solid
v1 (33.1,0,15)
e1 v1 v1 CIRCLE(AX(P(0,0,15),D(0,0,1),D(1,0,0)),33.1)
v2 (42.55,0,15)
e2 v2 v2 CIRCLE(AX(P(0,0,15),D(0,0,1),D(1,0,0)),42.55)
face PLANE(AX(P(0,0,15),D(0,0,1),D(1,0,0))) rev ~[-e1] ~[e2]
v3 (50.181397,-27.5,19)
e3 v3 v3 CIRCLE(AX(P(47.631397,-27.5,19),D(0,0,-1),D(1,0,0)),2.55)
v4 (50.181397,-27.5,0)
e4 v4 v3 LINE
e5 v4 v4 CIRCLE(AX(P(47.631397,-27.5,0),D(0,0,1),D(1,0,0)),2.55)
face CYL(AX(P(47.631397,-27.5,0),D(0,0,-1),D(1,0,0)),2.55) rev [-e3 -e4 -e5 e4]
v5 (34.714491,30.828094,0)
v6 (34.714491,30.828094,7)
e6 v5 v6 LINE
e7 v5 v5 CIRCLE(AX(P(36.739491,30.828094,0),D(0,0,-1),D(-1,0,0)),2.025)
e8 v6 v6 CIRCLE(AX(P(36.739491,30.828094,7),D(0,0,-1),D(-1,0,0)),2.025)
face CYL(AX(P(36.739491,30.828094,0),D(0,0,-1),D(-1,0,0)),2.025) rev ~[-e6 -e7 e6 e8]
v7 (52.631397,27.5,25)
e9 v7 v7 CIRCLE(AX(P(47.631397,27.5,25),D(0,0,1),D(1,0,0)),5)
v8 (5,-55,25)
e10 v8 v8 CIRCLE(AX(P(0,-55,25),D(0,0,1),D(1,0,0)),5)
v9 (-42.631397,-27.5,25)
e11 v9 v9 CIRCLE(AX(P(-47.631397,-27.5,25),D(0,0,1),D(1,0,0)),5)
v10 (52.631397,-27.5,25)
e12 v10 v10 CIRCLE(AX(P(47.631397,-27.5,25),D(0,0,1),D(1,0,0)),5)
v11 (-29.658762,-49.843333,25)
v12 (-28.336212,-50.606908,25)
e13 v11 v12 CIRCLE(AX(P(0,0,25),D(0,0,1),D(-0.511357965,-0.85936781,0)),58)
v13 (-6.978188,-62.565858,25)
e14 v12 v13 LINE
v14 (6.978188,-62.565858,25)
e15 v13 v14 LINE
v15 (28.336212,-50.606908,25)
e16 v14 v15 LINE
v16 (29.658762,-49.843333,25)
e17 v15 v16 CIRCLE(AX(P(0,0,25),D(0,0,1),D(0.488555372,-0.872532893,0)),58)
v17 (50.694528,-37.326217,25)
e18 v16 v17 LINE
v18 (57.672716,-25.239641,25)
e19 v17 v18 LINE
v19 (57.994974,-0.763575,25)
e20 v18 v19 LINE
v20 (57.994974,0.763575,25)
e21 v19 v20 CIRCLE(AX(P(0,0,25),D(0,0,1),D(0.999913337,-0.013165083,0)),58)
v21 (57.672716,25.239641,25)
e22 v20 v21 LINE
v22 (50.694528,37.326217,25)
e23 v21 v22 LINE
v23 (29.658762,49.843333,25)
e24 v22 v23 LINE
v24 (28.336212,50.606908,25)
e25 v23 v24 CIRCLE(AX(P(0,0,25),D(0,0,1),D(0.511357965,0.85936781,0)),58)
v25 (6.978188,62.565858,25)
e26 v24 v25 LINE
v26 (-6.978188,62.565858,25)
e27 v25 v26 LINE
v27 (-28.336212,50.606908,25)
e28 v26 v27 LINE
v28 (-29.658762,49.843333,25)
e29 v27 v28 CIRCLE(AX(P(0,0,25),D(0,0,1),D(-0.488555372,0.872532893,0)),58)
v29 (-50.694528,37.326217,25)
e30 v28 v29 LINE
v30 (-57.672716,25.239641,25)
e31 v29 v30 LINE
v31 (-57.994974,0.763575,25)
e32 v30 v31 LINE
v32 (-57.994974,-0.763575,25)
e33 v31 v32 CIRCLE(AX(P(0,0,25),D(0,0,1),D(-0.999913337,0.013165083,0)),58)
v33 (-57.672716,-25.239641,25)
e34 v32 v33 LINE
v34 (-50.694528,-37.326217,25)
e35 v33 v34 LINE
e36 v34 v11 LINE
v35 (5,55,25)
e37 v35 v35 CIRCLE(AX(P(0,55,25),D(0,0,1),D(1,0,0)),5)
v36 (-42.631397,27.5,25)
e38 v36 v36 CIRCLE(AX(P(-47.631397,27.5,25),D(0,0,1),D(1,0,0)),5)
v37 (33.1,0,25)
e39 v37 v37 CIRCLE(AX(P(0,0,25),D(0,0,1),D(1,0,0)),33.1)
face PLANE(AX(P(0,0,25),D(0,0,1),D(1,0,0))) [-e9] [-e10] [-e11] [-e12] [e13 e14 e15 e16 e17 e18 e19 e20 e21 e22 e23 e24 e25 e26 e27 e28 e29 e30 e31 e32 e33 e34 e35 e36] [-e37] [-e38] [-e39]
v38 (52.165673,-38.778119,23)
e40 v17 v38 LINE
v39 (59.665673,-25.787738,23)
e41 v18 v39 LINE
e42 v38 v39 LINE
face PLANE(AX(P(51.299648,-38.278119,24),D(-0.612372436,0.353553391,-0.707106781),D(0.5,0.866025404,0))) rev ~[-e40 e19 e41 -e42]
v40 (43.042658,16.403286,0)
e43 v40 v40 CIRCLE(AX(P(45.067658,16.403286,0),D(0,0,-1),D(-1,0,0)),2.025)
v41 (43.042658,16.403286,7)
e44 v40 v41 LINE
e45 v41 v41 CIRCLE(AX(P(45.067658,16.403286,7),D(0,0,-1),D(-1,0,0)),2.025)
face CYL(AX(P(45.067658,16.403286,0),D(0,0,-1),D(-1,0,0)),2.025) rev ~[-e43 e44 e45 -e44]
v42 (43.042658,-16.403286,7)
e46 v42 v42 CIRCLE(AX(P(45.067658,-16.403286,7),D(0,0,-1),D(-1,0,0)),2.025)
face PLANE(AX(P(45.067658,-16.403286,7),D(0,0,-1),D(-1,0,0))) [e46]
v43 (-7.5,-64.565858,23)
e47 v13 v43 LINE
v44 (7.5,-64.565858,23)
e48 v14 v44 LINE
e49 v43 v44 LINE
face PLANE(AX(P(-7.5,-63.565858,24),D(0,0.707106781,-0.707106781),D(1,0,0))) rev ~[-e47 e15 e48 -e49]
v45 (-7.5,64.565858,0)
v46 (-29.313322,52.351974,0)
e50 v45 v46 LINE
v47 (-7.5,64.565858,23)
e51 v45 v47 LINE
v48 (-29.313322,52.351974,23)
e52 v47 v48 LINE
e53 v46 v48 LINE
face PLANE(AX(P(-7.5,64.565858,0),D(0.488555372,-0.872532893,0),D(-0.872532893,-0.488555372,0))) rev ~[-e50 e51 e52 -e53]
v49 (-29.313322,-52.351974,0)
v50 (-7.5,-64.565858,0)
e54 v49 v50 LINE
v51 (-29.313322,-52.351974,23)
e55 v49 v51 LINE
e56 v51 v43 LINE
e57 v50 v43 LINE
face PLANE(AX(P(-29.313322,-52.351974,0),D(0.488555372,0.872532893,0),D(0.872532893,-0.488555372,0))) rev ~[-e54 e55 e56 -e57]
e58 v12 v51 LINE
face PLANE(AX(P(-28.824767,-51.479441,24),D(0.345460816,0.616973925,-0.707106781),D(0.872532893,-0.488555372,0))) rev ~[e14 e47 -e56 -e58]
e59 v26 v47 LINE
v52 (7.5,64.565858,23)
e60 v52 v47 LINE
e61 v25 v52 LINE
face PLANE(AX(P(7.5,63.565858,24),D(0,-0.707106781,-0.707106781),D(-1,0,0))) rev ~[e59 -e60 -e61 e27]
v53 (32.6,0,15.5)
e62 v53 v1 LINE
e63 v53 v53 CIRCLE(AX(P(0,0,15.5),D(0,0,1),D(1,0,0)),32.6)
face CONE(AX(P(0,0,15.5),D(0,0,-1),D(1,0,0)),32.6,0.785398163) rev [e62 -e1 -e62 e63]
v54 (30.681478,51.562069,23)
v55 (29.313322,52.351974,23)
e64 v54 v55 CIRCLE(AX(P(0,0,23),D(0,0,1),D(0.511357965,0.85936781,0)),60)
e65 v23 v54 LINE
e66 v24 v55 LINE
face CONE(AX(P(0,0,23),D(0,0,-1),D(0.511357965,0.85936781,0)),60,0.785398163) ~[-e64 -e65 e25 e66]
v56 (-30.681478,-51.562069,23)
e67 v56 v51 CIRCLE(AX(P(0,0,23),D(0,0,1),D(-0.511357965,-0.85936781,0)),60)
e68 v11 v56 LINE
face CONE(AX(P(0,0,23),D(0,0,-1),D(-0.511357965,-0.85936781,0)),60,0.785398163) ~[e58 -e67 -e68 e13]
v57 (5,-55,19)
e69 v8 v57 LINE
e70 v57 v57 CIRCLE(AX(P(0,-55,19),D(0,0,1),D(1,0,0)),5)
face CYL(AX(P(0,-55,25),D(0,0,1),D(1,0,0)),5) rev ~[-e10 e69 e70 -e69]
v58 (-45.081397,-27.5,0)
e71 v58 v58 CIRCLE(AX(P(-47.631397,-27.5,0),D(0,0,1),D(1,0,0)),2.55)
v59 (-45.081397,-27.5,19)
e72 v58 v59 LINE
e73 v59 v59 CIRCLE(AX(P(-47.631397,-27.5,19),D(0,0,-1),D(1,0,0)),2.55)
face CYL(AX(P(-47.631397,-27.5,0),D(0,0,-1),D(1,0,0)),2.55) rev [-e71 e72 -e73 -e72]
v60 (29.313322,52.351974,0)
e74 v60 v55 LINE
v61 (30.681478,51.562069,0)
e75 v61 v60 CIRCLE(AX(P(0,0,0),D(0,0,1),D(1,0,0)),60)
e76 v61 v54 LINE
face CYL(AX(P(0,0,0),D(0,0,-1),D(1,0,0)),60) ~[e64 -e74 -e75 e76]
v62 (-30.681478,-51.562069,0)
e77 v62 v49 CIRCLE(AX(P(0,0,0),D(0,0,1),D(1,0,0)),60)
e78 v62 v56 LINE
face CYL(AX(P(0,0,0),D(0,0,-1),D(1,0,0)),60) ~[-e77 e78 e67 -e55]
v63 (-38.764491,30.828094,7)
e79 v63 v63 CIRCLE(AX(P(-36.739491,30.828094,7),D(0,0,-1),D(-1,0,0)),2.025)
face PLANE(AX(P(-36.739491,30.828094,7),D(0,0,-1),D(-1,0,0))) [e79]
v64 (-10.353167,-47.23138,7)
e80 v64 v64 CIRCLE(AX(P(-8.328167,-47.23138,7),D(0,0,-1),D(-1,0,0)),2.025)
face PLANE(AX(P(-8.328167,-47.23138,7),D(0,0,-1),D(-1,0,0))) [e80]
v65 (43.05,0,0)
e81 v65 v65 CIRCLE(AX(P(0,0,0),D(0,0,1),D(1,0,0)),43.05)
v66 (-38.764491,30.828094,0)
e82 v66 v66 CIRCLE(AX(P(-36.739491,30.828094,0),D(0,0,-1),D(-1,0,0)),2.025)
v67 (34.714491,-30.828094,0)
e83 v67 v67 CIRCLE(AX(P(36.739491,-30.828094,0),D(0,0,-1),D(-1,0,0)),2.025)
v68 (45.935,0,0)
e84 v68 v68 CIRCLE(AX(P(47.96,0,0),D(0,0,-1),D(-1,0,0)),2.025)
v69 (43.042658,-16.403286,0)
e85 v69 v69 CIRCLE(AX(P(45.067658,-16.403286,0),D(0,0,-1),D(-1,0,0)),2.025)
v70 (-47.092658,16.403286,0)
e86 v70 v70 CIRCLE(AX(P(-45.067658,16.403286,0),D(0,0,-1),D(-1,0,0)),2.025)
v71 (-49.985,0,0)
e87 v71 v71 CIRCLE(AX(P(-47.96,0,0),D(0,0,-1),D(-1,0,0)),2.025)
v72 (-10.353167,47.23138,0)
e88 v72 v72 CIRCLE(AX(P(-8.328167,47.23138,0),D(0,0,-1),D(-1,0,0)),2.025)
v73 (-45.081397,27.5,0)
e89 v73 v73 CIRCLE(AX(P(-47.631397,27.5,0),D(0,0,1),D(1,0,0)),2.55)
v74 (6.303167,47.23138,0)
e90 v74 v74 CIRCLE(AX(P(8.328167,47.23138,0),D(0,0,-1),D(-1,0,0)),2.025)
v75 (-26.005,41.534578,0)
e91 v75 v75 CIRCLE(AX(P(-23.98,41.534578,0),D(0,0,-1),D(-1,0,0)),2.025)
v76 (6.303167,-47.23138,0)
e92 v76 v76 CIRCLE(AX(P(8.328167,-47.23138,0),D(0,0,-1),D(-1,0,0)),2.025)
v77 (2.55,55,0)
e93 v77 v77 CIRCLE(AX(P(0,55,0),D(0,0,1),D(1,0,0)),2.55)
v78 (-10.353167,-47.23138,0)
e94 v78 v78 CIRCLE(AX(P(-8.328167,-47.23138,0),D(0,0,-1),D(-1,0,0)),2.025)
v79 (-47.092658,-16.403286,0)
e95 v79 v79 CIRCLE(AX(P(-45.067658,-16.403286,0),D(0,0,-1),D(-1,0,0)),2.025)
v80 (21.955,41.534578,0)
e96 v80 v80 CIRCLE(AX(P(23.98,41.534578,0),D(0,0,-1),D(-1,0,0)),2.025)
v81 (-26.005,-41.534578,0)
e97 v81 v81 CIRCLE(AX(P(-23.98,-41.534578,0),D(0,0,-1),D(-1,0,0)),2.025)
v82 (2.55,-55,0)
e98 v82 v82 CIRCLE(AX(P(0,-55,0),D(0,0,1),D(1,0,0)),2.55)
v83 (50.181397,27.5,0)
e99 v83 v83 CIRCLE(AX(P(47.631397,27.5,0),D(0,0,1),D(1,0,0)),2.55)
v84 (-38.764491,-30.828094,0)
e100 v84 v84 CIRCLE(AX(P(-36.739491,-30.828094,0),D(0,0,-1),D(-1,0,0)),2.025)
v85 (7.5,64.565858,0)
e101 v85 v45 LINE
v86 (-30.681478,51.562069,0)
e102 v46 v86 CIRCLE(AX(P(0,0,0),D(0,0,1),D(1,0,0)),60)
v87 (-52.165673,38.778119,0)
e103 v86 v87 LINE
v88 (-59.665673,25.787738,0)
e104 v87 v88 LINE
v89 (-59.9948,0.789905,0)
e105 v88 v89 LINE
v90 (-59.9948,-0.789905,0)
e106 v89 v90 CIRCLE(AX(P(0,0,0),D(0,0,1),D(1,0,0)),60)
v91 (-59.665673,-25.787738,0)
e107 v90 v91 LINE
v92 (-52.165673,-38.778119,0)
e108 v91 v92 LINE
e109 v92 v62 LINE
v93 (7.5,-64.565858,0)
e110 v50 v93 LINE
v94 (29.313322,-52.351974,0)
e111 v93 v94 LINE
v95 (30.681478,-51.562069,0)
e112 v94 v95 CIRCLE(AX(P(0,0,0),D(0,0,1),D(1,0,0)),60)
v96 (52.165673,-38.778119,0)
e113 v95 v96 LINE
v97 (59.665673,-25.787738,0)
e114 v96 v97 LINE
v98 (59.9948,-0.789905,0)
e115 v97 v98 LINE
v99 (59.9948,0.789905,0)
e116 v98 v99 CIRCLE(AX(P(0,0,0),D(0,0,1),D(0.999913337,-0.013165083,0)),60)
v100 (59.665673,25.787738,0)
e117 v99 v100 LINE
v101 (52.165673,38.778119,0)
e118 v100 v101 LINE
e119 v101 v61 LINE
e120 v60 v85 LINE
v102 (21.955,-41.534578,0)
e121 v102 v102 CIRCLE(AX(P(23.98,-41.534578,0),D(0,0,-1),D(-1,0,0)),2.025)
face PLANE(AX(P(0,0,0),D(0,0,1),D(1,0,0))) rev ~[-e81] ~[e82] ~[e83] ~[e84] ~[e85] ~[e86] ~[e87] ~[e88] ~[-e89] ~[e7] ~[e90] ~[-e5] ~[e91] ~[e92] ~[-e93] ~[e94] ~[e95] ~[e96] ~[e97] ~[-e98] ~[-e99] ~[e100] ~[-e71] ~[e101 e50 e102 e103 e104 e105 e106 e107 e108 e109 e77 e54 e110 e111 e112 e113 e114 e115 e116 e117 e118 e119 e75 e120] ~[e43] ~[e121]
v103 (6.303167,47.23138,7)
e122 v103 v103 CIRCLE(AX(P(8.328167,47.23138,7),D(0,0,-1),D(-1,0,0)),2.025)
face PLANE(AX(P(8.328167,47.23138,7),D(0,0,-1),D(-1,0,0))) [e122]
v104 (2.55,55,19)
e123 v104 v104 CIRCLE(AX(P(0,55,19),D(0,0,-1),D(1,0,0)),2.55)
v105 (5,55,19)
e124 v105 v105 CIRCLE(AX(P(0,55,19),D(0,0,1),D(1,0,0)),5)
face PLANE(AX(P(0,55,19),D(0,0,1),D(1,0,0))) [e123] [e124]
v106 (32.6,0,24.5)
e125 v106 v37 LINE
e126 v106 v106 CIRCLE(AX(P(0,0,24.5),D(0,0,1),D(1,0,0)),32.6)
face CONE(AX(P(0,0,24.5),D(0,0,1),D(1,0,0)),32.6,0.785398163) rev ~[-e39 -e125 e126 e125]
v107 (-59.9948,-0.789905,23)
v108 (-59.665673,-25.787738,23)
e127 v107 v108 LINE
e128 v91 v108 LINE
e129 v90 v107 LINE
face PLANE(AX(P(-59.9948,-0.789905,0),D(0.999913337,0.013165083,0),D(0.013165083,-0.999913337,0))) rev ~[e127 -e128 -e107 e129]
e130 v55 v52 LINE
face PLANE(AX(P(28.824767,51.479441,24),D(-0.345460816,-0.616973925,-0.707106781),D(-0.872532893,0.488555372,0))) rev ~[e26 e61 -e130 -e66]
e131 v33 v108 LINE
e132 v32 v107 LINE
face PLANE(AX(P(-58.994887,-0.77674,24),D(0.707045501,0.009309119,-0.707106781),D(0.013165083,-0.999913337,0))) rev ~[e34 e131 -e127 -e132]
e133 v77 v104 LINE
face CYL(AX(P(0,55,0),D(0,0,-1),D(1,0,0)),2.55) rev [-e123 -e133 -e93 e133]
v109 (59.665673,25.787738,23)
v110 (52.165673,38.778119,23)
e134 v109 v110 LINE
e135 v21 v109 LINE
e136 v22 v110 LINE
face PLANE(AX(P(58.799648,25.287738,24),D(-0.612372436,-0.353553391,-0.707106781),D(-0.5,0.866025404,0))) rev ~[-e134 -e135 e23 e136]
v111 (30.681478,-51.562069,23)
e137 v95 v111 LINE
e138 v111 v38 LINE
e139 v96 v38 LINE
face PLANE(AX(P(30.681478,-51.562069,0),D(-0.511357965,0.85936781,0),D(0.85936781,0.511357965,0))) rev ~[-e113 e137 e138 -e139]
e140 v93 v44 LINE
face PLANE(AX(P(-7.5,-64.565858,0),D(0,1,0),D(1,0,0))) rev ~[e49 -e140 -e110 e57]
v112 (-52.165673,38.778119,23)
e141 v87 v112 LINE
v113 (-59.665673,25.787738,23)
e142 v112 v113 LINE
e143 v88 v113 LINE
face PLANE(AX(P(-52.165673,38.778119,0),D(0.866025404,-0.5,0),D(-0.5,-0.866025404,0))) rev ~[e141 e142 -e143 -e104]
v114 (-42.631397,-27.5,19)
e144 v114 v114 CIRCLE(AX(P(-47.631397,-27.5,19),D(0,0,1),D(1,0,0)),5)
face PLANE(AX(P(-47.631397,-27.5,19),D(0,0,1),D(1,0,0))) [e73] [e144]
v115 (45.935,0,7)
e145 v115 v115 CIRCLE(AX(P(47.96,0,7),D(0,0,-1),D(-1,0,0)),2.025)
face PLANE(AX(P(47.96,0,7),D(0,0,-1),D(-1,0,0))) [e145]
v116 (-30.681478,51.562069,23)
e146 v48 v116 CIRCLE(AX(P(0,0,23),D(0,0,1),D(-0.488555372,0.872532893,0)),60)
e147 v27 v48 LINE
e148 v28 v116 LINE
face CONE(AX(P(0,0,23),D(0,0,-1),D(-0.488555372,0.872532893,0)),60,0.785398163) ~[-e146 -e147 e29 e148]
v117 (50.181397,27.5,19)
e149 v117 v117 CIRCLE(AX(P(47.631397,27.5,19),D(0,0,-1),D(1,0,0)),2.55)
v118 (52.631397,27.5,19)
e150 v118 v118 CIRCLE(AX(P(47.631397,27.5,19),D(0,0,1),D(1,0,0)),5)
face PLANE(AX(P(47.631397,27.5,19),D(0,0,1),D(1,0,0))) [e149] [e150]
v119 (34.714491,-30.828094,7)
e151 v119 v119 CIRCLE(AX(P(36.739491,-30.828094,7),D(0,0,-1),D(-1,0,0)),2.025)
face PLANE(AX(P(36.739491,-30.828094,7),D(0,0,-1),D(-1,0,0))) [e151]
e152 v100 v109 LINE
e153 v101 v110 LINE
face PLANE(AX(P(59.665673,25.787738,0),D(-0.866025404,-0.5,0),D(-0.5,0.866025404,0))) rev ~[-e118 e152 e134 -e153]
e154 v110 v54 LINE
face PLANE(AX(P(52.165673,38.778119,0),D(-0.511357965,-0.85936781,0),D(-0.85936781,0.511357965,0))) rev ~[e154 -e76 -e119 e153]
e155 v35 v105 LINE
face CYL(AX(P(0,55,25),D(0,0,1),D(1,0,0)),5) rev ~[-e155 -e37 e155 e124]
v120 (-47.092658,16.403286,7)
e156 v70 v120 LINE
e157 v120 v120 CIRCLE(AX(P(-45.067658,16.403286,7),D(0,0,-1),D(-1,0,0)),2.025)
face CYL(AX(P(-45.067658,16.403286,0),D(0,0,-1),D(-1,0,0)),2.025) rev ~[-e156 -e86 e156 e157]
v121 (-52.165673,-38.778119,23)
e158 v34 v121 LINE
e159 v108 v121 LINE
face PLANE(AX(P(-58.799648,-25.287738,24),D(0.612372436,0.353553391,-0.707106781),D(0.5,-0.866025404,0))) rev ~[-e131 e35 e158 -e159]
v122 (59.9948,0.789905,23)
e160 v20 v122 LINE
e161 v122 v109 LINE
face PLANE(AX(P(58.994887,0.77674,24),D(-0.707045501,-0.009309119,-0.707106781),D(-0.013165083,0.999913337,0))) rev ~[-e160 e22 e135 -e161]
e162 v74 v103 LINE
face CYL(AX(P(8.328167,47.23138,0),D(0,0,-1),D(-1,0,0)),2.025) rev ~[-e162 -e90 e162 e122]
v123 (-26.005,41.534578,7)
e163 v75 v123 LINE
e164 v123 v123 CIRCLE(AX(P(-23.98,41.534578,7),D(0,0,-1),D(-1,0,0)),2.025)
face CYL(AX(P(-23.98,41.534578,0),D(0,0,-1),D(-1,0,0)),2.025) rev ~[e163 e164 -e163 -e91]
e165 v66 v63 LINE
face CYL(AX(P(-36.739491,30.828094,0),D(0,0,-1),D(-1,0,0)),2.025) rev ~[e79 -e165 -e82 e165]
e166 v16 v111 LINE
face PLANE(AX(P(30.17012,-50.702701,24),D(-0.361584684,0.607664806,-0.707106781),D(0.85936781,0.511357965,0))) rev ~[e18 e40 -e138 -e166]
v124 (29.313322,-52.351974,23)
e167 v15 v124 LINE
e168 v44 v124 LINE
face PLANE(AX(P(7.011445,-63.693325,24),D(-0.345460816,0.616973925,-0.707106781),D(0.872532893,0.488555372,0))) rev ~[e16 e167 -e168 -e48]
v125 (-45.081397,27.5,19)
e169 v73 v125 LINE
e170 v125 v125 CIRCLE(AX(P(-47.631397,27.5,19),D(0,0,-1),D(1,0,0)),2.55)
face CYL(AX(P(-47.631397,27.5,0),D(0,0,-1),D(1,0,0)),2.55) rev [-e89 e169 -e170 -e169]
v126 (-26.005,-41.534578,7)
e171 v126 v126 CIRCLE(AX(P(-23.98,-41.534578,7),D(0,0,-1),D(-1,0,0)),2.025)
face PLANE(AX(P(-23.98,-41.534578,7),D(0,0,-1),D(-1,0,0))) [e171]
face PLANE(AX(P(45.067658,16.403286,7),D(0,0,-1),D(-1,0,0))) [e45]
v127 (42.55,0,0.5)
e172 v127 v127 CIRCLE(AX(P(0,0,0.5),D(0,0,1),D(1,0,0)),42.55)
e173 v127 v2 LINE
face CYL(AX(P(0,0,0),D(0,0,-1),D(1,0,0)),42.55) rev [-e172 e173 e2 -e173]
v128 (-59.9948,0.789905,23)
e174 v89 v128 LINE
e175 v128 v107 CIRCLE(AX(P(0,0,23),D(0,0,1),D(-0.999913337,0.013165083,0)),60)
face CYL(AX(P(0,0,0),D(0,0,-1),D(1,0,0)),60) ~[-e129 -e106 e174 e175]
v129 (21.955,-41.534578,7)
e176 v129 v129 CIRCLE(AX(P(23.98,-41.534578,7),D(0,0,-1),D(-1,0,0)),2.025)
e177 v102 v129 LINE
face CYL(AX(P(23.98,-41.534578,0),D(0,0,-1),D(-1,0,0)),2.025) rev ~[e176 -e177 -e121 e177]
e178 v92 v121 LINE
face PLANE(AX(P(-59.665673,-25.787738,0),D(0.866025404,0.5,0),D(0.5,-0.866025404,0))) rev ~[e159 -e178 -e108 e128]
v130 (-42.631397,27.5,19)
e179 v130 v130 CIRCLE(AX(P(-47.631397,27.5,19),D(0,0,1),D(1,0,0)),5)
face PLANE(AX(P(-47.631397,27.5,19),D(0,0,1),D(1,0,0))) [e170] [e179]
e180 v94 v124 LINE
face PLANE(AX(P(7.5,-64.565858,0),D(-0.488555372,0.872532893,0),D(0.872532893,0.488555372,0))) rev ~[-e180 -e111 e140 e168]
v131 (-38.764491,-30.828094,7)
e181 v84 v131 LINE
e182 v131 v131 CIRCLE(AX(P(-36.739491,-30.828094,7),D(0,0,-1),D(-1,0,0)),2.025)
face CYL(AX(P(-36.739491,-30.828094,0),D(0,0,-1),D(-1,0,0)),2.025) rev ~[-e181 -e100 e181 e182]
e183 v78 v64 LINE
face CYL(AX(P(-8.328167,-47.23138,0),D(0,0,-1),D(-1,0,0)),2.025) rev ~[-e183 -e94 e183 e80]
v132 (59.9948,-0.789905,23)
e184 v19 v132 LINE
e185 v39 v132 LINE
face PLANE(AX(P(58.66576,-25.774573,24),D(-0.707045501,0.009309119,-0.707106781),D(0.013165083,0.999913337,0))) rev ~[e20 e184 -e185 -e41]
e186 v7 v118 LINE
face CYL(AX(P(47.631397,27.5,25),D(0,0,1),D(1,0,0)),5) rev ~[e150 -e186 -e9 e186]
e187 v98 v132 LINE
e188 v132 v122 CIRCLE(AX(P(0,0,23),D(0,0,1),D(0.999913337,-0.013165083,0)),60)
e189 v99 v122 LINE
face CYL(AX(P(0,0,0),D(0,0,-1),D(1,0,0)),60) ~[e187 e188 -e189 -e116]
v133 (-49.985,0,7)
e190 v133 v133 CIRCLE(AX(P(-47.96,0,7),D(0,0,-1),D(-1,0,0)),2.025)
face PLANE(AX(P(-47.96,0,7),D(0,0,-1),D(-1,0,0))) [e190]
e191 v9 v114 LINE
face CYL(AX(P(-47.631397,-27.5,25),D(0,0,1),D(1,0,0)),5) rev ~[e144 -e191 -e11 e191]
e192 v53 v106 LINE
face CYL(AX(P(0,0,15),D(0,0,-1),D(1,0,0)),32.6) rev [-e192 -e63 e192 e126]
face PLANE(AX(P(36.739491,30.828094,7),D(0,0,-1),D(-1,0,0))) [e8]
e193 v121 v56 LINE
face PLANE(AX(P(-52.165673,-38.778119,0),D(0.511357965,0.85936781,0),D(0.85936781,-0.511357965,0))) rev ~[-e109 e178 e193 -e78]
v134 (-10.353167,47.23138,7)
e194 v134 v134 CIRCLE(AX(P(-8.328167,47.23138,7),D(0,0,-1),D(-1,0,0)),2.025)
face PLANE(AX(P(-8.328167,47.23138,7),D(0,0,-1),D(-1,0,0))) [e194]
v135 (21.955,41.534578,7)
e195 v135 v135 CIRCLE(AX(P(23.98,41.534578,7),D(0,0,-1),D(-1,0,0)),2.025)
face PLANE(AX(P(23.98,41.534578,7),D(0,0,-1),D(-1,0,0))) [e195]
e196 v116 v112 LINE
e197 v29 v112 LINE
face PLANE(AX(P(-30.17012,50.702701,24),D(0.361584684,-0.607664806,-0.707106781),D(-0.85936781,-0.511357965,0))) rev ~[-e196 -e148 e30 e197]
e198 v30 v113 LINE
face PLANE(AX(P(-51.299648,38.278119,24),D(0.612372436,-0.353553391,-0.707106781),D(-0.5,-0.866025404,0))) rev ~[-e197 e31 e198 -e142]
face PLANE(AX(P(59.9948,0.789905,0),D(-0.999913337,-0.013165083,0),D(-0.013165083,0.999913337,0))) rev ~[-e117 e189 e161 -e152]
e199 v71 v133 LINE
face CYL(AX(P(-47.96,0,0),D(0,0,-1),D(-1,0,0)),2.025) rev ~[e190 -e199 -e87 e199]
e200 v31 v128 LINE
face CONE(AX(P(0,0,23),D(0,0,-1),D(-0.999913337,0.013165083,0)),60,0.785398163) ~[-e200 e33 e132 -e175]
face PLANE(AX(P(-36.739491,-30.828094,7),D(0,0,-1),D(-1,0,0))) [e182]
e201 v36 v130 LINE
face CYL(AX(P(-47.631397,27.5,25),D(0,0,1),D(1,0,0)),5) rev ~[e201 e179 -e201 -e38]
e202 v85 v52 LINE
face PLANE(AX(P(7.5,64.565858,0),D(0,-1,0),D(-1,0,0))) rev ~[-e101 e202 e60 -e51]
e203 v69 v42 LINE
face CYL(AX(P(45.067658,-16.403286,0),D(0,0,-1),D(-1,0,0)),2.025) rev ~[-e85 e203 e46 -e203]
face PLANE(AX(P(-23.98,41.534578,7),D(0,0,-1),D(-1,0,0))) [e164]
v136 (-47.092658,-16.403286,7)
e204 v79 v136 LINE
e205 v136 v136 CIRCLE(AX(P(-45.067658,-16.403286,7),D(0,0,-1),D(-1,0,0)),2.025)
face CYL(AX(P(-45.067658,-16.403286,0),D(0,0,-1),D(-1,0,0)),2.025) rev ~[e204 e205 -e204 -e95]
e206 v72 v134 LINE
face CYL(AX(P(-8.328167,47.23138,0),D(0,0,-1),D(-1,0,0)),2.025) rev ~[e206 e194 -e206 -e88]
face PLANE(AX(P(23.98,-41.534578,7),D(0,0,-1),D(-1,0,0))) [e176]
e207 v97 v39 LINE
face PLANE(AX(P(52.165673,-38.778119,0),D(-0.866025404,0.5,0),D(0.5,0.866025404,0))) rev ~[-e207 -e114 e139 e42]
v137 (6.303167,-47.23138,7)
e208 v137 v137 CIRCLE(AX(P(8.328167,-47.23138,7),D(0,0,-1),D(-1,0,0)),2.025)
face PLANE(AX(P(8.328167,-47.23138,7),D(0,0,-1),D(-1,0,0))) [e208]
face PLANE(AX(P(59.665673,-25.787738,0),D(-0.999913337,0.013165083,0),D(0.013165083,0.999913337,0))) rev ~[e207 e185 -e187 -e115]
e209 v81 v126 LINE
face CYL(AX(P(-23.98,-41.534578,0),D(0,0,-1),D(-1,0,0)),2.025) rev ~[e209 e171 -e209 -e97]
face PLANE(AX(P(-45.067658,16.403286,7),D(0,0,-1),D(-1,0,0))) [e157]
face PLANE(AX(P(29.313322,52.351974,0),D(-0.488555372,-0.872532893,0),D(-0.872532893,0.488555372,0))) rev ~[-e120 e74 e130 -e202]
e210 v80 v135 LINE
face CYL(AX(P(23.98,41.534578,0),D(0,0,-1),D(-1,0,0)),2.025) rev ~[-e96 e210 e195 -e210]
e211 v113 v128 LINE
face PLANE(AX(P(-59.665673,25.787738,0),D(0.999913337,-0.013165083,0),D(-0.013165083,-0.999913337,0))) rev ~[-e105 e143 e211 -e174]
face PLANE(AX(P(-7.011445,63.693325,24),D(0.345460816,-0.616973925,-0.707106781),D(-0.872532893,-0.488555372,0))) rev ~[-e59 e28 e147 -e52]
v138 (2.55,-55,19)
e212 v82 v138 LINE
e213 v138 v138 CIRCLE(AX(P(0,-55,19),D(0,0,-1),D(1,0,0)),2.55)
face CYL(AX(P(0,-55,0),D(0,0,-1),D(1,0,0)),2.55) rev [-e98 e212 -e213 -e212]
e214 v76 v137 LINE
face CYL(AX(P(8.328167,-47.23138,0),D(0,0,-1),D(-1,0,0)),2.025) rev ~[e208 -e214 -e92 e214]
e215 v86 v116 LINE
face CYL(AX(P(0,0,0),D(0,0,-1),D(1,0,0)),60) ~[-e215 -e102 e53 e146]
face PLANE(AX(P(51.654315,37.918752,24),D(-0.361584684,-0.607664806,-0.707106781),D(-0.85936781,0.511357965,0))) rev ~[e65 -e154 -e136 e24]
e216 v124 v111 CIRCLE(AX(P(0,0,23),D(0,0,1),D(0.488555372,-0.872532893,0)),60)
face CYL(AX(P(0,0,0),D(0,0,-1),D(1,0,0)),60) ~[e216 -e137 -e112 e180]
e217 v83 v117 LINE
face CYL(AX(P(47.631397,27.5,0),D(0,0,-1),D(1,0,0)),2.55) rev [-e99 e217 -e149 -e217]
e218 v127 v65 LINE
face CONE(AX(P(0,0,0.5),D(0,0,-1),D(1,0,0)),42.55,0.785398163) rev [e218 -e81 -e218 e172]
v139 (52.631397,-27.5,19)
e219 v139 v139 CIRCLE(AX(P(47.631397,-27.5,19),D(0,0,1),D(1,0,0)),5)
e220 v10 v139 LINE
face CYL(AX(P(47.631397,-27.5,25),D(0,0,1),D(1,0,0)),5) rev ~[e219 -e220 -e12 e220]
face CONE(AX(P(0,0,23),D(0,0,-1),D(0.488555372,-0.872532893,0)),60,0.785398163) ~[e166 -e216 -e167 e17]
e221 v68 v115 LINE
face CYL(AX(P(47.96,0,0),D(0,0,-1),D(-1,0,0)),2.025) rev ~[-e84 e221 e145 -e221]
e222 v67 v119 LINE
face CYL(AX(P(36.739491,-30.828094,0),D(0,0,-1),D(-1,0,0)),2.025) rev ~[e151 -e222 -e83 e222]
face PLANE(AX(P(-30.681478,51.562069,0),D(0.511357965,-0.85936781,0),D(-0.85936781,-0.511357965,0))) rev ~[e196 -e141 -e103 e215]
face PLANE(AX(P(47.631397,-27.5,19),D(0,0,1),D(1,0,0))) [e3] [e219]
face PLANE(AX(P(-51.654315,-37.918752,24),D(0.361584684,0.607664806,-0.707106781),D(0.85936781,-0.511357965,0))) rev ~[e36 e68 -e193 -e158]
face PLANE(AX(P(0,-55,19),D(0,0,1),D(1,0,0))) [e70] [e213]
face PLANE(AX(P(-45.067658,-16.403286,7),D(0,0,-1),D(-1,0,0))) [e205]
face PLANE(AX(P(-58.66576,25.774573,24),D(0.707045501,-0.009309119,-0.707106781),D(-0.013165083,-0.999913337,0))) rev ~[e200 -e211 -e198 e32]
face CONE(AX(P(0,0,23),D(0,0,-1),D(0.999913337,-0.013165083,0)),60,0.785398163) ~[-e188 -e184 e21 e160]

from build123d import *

# Parameters (mm, degrees)
SKETCH1_R           = 60
SKETCH1_R_2         = 2.55
SKETCH1_R_3         = 42.55
BOSS_EXTRUDE1_DEPTH = 25
BOSS_EXTRUDE2_START = -10
SKETCH3_R           = 42.55
SKETCH3_R_2         = 32.6
BOSS_EXTRUDE2_DEPTH = 10
BOSS_EXTRUDE3_DEPTH = 25
SKETCH8_R           = 5
CUT_EXTRUDE1_DEPTH  = 6
CHAMFER2_SIZE       = 0.5
CHAMFER3_SIZE       = 2
SKETCH9_R           = 2.025
CUT_EXTRUDE2_DEPTH  = 7


with BuildPart() as part:
    # Sketch1 → Boss-Extrude1 (new body)
    with BuildSketch(Plane.XY):
        Circle(SKETCH1_R)
        with Locations((0, 55)):
            Circle(SKETCH1_R_2, mode=Mode.SUBTRACT)
        with Locations((47.631397208, 27.5)):
            Circle(SKETCH1_R_2, mode=Mode.SUBTRACT)
        with Locations((47.631397208, -27.5)):
            Circle(SKETCH1_R_2, mode=Mode.SUBTRACT)
        with Locations((0, -55)):
            Circle(SKETCH1_R_2, mode=Mode.SUBTRACT)
        with Locations((-47.631397208, -27.5)):
            Circle(SKETCH1_R_2, mode=Mode.SUBTRACT)
        with Locations((-47.631397208, 27.5)):
            Circle(SKETCH1_R_2, mode=Mode.SUBTRACT)
        Circle(SKETCH1_R_3, mode=Mode.SUBTRACT)
    extrude(amount=BOSS_EXTRUDE1_DEPTH)

    # Sketch3 → Boss-Extrude2 (add)
    with BuildSketch(Plane.XY.offset(25).offset(BOSS_EXTRUDE2_START)):
        Circle(SKETCH3_R)
        Circle(SKETCH3_R_2, mode=Mode.SUBTRACT)
    extrude(amount=BOSS_EXTRUDE2_DEPTH)

    # Sketch7 → Boss-Extrude3 (add)
    with BuildSketch(Plane(origin=(0, 0, 0), x_dir=(-1, 0, 0), z_dir=(0, 0, -1))):
        with BuildLine():
            Line((-29.313322314, 52.351973553), (-7.5, 64.565857851))
            Line((-7.5, 64.565857851), (7.5, 64.565857851))
            Line((7.5, 64.565857851), (29.313322314, 52.351973553))
            ThreePointArc((29.313322314, 52.351973553), (0, 60), (-29.313322314, 52.351973553))
        make_face()
        with BuildLine():
            Line((59.665673116, 25.787738397), (59.994800192, 0.789904984))
            ThreePointArc((59.994800192, 0.789904984), (51.961524227, 30), (30.681477878, 51.56206857))
            Line((30.681477878, 51.56206857), (52.165673116, 38.778119454))
            Line((52.165673116, 38.778119454), (59.665673116, 25.787738397))
        make_face()
        with BuildLine():
            Line((52.165673116, -38.778119454), (30.681477878, -51.56206857))
            ThreePointArc((30.681477878, -51.56206857), (51.961524227, -30), (59.994800192, -0.789904984))
            Line((59.994800192, -0.789904984), (59.665673116, -25.787738397))
            Line((59.665673116, -25.787738397), (52.165673116, -38.778119454))
        make_face()
        with BuildLine():
            Line((-7.5, -64.565857851), (-29.313322314, -52.351973553))
            ThreePointArc((-29.313322314, -52.351973553), (0, -60), (29.313322314, -52.351973553))
            Line((29.313322314, -52.351973553), (7.5, -64.565857851))
            Line((7.5, -64.565857851), (-7.5, -64.565857851))
        make_face()
        with BuildLine():
            Line((-59.665673116, -25.787738397), (-59.994800192, -0.789904984))
            ThreePointArc((-59.994800192, -0.789904984), (-51.961524227, -30), (-30.681477878, -51.56206857))
            Line((-30.681477878, -51.56206857), (-52.165673116, -38.778119454))
            Line((-52.165673116, -38.778119454), (-59.665673116, -25.787738397))
        make_face()
        with BuildLine():
            Line((-52.165673116, 38.778119454), (-30.681477878, 51.56206857))
            ThreePointArc((-30.681477878, 51.56206857), (-51.961524227, 30), (-59.994800192, 0.789904984))
            Line((-59.994800192, 0.789904984), (-59.665673116, 25.787738397))
            Line((-59.665673116, 25.787738397), (-52.165673116, 38.778119454))
        make_face()
    extrude(amount=-BOSS_EXTRUDE3_DEPTH)

    # Sketch8 → Cut-Extrude1 (cut)
    with BuildSketch(Plane.XY.offset(25)):
        with Locations((0, 55)):
            Circle(SKETCH8_R)
        with Locations((47.631397208, 27.5)):
            Circle(SKETCH8_R)
        with Locations((47.631397208, -27.5)):
            Circle(SKETCH8_R)
        with Locations((0, -55)):
            Circle(SKETCH8_R)
        with Locations((-47.631397208, -27.5)):
            Circle(SKETCH8_R)
        with Locations((-47.631397208, 27.5)):
            Circle(SKETCH8_R)
    extrude(amount=-CUT_EXTRUDE1_DEPTH, mode=Mode.SUBTRACT)

    # Chamfer2
    chamfer2_edges = [part.edges().sort_by_distance(p)[0] for p in [
        (-32.6, 0, 15),
        (-32.6, 0, 25),
        (-42.55, 0, 0),
    ]]
    chamfer(chamfer2_edges, length=CHAMFER2_SIZE)

    # Chamfer3
    chamfer3_edges = [part.edges().sort_by_distance(p)[0] for p in [
        (-30, 51.961524227, 25),
        (-18.406661157, 58.458915702, 25),
        (0, 64.565857851, 25),
        (18.406661157, 58.458915702, 25),
        (-60, 0, 25),
        (-59.830236654, 13.28882169, 25),
        (-55.915673116, 32.282928925, 25),
        (-41.423575497, 45.170094012, 25),
        (-30, -51.961524227, 25),
        (-41.423575497, -45.170094012, 25),
        (-55.915673116, -32.282928925, 25),
        (-59.830236654, -13.28882169, 25),
        (30, -51.961524227, 25),
        (18.406661157, -58.458915702, 25),
        (0, -64.565857851, 25),
        (-18.406661157, -58.458915702, 25),
        (60, 0, 25),
        (59.830236654, -13.28882169, 25),
        (55.915673116, -32.282928925, 25),
        (41.423575497, -45.170094012, 25),
        (30, 51.961524227, 25),
        (41.423575497, 45.170094012, 25),
        (55.915673116, 32.282928925, 25),
        (59.830236654, 13.28882169, 25),
    ]]
    chamfer(chamfer3_edges, length=CHAMFER3_SIZE)

    # Sketch9 → Cut-Extrude2 (cut)
    with BuildSketch(Plane(origin=(0, 0, 0), x_dir=(-1, 0, 0), z_dir=(0, 0, -1))):
        with Locations((-8.328166601, 47.231379834)):
            Circle(SKETCH9_R)
        with Locations((8.328166601, 47.231379834)):
            Circle(SKETCH9_R)
        with Locations((23.98, 41.534578366)):
            Circle(SKETCH9_R)
        with Locations((36.739491492, 30.828093761)):
            Circle(SKETCH9_R)
        with Locations((45.067658093, 16.403286074)):
            Circle(SKETCH9_R)
        with Locations((47.96, 0)):
            Circle(SKETCH9_R)
        with Locations((45.067658093, -16.403286074)):
            Circle(SKETCH9_R)
        with Locations((36.739491492, -30.828093761)):
            Circle(SKETCH9_R)
        with Locations((23.98, -41.534578366)):
            Circle(SKETCH9_R)
        with Locations((8.328166601, -47.231379834)):
            Circle(SKETCH9_R)
        with Locations((-8.328166601, -47.231379834)):
            Circle(SKETCH9_R)
        with Locations((-23.98, -41.534578366)):
            Circle(SKETCH9_R)
        with Locations((-36.739491492, -30.828093761)):
            Circle(SKETCH9_R)
        with Locations((-45.067658093, -16.403286074)):
            Circle(SKETCH9_R)
        with Locations((-47.96, 0)):
            Circle(SKETCH9_R)
        with Locations((-45.067658093, 16.403286074)):
            Circle(SKETCH9_R)
        with Locations((-36.739491492, 30.828093761)):
            Circle(SKETCH9_R)
        with Locations((-23.98, 41.534578366)):
            Circle(SKETCH9_R)
    extrude(amount=-CUT_EXTRUDE2_DEPTH, mode=Mode.SUBTRACT)


solid = part.part
